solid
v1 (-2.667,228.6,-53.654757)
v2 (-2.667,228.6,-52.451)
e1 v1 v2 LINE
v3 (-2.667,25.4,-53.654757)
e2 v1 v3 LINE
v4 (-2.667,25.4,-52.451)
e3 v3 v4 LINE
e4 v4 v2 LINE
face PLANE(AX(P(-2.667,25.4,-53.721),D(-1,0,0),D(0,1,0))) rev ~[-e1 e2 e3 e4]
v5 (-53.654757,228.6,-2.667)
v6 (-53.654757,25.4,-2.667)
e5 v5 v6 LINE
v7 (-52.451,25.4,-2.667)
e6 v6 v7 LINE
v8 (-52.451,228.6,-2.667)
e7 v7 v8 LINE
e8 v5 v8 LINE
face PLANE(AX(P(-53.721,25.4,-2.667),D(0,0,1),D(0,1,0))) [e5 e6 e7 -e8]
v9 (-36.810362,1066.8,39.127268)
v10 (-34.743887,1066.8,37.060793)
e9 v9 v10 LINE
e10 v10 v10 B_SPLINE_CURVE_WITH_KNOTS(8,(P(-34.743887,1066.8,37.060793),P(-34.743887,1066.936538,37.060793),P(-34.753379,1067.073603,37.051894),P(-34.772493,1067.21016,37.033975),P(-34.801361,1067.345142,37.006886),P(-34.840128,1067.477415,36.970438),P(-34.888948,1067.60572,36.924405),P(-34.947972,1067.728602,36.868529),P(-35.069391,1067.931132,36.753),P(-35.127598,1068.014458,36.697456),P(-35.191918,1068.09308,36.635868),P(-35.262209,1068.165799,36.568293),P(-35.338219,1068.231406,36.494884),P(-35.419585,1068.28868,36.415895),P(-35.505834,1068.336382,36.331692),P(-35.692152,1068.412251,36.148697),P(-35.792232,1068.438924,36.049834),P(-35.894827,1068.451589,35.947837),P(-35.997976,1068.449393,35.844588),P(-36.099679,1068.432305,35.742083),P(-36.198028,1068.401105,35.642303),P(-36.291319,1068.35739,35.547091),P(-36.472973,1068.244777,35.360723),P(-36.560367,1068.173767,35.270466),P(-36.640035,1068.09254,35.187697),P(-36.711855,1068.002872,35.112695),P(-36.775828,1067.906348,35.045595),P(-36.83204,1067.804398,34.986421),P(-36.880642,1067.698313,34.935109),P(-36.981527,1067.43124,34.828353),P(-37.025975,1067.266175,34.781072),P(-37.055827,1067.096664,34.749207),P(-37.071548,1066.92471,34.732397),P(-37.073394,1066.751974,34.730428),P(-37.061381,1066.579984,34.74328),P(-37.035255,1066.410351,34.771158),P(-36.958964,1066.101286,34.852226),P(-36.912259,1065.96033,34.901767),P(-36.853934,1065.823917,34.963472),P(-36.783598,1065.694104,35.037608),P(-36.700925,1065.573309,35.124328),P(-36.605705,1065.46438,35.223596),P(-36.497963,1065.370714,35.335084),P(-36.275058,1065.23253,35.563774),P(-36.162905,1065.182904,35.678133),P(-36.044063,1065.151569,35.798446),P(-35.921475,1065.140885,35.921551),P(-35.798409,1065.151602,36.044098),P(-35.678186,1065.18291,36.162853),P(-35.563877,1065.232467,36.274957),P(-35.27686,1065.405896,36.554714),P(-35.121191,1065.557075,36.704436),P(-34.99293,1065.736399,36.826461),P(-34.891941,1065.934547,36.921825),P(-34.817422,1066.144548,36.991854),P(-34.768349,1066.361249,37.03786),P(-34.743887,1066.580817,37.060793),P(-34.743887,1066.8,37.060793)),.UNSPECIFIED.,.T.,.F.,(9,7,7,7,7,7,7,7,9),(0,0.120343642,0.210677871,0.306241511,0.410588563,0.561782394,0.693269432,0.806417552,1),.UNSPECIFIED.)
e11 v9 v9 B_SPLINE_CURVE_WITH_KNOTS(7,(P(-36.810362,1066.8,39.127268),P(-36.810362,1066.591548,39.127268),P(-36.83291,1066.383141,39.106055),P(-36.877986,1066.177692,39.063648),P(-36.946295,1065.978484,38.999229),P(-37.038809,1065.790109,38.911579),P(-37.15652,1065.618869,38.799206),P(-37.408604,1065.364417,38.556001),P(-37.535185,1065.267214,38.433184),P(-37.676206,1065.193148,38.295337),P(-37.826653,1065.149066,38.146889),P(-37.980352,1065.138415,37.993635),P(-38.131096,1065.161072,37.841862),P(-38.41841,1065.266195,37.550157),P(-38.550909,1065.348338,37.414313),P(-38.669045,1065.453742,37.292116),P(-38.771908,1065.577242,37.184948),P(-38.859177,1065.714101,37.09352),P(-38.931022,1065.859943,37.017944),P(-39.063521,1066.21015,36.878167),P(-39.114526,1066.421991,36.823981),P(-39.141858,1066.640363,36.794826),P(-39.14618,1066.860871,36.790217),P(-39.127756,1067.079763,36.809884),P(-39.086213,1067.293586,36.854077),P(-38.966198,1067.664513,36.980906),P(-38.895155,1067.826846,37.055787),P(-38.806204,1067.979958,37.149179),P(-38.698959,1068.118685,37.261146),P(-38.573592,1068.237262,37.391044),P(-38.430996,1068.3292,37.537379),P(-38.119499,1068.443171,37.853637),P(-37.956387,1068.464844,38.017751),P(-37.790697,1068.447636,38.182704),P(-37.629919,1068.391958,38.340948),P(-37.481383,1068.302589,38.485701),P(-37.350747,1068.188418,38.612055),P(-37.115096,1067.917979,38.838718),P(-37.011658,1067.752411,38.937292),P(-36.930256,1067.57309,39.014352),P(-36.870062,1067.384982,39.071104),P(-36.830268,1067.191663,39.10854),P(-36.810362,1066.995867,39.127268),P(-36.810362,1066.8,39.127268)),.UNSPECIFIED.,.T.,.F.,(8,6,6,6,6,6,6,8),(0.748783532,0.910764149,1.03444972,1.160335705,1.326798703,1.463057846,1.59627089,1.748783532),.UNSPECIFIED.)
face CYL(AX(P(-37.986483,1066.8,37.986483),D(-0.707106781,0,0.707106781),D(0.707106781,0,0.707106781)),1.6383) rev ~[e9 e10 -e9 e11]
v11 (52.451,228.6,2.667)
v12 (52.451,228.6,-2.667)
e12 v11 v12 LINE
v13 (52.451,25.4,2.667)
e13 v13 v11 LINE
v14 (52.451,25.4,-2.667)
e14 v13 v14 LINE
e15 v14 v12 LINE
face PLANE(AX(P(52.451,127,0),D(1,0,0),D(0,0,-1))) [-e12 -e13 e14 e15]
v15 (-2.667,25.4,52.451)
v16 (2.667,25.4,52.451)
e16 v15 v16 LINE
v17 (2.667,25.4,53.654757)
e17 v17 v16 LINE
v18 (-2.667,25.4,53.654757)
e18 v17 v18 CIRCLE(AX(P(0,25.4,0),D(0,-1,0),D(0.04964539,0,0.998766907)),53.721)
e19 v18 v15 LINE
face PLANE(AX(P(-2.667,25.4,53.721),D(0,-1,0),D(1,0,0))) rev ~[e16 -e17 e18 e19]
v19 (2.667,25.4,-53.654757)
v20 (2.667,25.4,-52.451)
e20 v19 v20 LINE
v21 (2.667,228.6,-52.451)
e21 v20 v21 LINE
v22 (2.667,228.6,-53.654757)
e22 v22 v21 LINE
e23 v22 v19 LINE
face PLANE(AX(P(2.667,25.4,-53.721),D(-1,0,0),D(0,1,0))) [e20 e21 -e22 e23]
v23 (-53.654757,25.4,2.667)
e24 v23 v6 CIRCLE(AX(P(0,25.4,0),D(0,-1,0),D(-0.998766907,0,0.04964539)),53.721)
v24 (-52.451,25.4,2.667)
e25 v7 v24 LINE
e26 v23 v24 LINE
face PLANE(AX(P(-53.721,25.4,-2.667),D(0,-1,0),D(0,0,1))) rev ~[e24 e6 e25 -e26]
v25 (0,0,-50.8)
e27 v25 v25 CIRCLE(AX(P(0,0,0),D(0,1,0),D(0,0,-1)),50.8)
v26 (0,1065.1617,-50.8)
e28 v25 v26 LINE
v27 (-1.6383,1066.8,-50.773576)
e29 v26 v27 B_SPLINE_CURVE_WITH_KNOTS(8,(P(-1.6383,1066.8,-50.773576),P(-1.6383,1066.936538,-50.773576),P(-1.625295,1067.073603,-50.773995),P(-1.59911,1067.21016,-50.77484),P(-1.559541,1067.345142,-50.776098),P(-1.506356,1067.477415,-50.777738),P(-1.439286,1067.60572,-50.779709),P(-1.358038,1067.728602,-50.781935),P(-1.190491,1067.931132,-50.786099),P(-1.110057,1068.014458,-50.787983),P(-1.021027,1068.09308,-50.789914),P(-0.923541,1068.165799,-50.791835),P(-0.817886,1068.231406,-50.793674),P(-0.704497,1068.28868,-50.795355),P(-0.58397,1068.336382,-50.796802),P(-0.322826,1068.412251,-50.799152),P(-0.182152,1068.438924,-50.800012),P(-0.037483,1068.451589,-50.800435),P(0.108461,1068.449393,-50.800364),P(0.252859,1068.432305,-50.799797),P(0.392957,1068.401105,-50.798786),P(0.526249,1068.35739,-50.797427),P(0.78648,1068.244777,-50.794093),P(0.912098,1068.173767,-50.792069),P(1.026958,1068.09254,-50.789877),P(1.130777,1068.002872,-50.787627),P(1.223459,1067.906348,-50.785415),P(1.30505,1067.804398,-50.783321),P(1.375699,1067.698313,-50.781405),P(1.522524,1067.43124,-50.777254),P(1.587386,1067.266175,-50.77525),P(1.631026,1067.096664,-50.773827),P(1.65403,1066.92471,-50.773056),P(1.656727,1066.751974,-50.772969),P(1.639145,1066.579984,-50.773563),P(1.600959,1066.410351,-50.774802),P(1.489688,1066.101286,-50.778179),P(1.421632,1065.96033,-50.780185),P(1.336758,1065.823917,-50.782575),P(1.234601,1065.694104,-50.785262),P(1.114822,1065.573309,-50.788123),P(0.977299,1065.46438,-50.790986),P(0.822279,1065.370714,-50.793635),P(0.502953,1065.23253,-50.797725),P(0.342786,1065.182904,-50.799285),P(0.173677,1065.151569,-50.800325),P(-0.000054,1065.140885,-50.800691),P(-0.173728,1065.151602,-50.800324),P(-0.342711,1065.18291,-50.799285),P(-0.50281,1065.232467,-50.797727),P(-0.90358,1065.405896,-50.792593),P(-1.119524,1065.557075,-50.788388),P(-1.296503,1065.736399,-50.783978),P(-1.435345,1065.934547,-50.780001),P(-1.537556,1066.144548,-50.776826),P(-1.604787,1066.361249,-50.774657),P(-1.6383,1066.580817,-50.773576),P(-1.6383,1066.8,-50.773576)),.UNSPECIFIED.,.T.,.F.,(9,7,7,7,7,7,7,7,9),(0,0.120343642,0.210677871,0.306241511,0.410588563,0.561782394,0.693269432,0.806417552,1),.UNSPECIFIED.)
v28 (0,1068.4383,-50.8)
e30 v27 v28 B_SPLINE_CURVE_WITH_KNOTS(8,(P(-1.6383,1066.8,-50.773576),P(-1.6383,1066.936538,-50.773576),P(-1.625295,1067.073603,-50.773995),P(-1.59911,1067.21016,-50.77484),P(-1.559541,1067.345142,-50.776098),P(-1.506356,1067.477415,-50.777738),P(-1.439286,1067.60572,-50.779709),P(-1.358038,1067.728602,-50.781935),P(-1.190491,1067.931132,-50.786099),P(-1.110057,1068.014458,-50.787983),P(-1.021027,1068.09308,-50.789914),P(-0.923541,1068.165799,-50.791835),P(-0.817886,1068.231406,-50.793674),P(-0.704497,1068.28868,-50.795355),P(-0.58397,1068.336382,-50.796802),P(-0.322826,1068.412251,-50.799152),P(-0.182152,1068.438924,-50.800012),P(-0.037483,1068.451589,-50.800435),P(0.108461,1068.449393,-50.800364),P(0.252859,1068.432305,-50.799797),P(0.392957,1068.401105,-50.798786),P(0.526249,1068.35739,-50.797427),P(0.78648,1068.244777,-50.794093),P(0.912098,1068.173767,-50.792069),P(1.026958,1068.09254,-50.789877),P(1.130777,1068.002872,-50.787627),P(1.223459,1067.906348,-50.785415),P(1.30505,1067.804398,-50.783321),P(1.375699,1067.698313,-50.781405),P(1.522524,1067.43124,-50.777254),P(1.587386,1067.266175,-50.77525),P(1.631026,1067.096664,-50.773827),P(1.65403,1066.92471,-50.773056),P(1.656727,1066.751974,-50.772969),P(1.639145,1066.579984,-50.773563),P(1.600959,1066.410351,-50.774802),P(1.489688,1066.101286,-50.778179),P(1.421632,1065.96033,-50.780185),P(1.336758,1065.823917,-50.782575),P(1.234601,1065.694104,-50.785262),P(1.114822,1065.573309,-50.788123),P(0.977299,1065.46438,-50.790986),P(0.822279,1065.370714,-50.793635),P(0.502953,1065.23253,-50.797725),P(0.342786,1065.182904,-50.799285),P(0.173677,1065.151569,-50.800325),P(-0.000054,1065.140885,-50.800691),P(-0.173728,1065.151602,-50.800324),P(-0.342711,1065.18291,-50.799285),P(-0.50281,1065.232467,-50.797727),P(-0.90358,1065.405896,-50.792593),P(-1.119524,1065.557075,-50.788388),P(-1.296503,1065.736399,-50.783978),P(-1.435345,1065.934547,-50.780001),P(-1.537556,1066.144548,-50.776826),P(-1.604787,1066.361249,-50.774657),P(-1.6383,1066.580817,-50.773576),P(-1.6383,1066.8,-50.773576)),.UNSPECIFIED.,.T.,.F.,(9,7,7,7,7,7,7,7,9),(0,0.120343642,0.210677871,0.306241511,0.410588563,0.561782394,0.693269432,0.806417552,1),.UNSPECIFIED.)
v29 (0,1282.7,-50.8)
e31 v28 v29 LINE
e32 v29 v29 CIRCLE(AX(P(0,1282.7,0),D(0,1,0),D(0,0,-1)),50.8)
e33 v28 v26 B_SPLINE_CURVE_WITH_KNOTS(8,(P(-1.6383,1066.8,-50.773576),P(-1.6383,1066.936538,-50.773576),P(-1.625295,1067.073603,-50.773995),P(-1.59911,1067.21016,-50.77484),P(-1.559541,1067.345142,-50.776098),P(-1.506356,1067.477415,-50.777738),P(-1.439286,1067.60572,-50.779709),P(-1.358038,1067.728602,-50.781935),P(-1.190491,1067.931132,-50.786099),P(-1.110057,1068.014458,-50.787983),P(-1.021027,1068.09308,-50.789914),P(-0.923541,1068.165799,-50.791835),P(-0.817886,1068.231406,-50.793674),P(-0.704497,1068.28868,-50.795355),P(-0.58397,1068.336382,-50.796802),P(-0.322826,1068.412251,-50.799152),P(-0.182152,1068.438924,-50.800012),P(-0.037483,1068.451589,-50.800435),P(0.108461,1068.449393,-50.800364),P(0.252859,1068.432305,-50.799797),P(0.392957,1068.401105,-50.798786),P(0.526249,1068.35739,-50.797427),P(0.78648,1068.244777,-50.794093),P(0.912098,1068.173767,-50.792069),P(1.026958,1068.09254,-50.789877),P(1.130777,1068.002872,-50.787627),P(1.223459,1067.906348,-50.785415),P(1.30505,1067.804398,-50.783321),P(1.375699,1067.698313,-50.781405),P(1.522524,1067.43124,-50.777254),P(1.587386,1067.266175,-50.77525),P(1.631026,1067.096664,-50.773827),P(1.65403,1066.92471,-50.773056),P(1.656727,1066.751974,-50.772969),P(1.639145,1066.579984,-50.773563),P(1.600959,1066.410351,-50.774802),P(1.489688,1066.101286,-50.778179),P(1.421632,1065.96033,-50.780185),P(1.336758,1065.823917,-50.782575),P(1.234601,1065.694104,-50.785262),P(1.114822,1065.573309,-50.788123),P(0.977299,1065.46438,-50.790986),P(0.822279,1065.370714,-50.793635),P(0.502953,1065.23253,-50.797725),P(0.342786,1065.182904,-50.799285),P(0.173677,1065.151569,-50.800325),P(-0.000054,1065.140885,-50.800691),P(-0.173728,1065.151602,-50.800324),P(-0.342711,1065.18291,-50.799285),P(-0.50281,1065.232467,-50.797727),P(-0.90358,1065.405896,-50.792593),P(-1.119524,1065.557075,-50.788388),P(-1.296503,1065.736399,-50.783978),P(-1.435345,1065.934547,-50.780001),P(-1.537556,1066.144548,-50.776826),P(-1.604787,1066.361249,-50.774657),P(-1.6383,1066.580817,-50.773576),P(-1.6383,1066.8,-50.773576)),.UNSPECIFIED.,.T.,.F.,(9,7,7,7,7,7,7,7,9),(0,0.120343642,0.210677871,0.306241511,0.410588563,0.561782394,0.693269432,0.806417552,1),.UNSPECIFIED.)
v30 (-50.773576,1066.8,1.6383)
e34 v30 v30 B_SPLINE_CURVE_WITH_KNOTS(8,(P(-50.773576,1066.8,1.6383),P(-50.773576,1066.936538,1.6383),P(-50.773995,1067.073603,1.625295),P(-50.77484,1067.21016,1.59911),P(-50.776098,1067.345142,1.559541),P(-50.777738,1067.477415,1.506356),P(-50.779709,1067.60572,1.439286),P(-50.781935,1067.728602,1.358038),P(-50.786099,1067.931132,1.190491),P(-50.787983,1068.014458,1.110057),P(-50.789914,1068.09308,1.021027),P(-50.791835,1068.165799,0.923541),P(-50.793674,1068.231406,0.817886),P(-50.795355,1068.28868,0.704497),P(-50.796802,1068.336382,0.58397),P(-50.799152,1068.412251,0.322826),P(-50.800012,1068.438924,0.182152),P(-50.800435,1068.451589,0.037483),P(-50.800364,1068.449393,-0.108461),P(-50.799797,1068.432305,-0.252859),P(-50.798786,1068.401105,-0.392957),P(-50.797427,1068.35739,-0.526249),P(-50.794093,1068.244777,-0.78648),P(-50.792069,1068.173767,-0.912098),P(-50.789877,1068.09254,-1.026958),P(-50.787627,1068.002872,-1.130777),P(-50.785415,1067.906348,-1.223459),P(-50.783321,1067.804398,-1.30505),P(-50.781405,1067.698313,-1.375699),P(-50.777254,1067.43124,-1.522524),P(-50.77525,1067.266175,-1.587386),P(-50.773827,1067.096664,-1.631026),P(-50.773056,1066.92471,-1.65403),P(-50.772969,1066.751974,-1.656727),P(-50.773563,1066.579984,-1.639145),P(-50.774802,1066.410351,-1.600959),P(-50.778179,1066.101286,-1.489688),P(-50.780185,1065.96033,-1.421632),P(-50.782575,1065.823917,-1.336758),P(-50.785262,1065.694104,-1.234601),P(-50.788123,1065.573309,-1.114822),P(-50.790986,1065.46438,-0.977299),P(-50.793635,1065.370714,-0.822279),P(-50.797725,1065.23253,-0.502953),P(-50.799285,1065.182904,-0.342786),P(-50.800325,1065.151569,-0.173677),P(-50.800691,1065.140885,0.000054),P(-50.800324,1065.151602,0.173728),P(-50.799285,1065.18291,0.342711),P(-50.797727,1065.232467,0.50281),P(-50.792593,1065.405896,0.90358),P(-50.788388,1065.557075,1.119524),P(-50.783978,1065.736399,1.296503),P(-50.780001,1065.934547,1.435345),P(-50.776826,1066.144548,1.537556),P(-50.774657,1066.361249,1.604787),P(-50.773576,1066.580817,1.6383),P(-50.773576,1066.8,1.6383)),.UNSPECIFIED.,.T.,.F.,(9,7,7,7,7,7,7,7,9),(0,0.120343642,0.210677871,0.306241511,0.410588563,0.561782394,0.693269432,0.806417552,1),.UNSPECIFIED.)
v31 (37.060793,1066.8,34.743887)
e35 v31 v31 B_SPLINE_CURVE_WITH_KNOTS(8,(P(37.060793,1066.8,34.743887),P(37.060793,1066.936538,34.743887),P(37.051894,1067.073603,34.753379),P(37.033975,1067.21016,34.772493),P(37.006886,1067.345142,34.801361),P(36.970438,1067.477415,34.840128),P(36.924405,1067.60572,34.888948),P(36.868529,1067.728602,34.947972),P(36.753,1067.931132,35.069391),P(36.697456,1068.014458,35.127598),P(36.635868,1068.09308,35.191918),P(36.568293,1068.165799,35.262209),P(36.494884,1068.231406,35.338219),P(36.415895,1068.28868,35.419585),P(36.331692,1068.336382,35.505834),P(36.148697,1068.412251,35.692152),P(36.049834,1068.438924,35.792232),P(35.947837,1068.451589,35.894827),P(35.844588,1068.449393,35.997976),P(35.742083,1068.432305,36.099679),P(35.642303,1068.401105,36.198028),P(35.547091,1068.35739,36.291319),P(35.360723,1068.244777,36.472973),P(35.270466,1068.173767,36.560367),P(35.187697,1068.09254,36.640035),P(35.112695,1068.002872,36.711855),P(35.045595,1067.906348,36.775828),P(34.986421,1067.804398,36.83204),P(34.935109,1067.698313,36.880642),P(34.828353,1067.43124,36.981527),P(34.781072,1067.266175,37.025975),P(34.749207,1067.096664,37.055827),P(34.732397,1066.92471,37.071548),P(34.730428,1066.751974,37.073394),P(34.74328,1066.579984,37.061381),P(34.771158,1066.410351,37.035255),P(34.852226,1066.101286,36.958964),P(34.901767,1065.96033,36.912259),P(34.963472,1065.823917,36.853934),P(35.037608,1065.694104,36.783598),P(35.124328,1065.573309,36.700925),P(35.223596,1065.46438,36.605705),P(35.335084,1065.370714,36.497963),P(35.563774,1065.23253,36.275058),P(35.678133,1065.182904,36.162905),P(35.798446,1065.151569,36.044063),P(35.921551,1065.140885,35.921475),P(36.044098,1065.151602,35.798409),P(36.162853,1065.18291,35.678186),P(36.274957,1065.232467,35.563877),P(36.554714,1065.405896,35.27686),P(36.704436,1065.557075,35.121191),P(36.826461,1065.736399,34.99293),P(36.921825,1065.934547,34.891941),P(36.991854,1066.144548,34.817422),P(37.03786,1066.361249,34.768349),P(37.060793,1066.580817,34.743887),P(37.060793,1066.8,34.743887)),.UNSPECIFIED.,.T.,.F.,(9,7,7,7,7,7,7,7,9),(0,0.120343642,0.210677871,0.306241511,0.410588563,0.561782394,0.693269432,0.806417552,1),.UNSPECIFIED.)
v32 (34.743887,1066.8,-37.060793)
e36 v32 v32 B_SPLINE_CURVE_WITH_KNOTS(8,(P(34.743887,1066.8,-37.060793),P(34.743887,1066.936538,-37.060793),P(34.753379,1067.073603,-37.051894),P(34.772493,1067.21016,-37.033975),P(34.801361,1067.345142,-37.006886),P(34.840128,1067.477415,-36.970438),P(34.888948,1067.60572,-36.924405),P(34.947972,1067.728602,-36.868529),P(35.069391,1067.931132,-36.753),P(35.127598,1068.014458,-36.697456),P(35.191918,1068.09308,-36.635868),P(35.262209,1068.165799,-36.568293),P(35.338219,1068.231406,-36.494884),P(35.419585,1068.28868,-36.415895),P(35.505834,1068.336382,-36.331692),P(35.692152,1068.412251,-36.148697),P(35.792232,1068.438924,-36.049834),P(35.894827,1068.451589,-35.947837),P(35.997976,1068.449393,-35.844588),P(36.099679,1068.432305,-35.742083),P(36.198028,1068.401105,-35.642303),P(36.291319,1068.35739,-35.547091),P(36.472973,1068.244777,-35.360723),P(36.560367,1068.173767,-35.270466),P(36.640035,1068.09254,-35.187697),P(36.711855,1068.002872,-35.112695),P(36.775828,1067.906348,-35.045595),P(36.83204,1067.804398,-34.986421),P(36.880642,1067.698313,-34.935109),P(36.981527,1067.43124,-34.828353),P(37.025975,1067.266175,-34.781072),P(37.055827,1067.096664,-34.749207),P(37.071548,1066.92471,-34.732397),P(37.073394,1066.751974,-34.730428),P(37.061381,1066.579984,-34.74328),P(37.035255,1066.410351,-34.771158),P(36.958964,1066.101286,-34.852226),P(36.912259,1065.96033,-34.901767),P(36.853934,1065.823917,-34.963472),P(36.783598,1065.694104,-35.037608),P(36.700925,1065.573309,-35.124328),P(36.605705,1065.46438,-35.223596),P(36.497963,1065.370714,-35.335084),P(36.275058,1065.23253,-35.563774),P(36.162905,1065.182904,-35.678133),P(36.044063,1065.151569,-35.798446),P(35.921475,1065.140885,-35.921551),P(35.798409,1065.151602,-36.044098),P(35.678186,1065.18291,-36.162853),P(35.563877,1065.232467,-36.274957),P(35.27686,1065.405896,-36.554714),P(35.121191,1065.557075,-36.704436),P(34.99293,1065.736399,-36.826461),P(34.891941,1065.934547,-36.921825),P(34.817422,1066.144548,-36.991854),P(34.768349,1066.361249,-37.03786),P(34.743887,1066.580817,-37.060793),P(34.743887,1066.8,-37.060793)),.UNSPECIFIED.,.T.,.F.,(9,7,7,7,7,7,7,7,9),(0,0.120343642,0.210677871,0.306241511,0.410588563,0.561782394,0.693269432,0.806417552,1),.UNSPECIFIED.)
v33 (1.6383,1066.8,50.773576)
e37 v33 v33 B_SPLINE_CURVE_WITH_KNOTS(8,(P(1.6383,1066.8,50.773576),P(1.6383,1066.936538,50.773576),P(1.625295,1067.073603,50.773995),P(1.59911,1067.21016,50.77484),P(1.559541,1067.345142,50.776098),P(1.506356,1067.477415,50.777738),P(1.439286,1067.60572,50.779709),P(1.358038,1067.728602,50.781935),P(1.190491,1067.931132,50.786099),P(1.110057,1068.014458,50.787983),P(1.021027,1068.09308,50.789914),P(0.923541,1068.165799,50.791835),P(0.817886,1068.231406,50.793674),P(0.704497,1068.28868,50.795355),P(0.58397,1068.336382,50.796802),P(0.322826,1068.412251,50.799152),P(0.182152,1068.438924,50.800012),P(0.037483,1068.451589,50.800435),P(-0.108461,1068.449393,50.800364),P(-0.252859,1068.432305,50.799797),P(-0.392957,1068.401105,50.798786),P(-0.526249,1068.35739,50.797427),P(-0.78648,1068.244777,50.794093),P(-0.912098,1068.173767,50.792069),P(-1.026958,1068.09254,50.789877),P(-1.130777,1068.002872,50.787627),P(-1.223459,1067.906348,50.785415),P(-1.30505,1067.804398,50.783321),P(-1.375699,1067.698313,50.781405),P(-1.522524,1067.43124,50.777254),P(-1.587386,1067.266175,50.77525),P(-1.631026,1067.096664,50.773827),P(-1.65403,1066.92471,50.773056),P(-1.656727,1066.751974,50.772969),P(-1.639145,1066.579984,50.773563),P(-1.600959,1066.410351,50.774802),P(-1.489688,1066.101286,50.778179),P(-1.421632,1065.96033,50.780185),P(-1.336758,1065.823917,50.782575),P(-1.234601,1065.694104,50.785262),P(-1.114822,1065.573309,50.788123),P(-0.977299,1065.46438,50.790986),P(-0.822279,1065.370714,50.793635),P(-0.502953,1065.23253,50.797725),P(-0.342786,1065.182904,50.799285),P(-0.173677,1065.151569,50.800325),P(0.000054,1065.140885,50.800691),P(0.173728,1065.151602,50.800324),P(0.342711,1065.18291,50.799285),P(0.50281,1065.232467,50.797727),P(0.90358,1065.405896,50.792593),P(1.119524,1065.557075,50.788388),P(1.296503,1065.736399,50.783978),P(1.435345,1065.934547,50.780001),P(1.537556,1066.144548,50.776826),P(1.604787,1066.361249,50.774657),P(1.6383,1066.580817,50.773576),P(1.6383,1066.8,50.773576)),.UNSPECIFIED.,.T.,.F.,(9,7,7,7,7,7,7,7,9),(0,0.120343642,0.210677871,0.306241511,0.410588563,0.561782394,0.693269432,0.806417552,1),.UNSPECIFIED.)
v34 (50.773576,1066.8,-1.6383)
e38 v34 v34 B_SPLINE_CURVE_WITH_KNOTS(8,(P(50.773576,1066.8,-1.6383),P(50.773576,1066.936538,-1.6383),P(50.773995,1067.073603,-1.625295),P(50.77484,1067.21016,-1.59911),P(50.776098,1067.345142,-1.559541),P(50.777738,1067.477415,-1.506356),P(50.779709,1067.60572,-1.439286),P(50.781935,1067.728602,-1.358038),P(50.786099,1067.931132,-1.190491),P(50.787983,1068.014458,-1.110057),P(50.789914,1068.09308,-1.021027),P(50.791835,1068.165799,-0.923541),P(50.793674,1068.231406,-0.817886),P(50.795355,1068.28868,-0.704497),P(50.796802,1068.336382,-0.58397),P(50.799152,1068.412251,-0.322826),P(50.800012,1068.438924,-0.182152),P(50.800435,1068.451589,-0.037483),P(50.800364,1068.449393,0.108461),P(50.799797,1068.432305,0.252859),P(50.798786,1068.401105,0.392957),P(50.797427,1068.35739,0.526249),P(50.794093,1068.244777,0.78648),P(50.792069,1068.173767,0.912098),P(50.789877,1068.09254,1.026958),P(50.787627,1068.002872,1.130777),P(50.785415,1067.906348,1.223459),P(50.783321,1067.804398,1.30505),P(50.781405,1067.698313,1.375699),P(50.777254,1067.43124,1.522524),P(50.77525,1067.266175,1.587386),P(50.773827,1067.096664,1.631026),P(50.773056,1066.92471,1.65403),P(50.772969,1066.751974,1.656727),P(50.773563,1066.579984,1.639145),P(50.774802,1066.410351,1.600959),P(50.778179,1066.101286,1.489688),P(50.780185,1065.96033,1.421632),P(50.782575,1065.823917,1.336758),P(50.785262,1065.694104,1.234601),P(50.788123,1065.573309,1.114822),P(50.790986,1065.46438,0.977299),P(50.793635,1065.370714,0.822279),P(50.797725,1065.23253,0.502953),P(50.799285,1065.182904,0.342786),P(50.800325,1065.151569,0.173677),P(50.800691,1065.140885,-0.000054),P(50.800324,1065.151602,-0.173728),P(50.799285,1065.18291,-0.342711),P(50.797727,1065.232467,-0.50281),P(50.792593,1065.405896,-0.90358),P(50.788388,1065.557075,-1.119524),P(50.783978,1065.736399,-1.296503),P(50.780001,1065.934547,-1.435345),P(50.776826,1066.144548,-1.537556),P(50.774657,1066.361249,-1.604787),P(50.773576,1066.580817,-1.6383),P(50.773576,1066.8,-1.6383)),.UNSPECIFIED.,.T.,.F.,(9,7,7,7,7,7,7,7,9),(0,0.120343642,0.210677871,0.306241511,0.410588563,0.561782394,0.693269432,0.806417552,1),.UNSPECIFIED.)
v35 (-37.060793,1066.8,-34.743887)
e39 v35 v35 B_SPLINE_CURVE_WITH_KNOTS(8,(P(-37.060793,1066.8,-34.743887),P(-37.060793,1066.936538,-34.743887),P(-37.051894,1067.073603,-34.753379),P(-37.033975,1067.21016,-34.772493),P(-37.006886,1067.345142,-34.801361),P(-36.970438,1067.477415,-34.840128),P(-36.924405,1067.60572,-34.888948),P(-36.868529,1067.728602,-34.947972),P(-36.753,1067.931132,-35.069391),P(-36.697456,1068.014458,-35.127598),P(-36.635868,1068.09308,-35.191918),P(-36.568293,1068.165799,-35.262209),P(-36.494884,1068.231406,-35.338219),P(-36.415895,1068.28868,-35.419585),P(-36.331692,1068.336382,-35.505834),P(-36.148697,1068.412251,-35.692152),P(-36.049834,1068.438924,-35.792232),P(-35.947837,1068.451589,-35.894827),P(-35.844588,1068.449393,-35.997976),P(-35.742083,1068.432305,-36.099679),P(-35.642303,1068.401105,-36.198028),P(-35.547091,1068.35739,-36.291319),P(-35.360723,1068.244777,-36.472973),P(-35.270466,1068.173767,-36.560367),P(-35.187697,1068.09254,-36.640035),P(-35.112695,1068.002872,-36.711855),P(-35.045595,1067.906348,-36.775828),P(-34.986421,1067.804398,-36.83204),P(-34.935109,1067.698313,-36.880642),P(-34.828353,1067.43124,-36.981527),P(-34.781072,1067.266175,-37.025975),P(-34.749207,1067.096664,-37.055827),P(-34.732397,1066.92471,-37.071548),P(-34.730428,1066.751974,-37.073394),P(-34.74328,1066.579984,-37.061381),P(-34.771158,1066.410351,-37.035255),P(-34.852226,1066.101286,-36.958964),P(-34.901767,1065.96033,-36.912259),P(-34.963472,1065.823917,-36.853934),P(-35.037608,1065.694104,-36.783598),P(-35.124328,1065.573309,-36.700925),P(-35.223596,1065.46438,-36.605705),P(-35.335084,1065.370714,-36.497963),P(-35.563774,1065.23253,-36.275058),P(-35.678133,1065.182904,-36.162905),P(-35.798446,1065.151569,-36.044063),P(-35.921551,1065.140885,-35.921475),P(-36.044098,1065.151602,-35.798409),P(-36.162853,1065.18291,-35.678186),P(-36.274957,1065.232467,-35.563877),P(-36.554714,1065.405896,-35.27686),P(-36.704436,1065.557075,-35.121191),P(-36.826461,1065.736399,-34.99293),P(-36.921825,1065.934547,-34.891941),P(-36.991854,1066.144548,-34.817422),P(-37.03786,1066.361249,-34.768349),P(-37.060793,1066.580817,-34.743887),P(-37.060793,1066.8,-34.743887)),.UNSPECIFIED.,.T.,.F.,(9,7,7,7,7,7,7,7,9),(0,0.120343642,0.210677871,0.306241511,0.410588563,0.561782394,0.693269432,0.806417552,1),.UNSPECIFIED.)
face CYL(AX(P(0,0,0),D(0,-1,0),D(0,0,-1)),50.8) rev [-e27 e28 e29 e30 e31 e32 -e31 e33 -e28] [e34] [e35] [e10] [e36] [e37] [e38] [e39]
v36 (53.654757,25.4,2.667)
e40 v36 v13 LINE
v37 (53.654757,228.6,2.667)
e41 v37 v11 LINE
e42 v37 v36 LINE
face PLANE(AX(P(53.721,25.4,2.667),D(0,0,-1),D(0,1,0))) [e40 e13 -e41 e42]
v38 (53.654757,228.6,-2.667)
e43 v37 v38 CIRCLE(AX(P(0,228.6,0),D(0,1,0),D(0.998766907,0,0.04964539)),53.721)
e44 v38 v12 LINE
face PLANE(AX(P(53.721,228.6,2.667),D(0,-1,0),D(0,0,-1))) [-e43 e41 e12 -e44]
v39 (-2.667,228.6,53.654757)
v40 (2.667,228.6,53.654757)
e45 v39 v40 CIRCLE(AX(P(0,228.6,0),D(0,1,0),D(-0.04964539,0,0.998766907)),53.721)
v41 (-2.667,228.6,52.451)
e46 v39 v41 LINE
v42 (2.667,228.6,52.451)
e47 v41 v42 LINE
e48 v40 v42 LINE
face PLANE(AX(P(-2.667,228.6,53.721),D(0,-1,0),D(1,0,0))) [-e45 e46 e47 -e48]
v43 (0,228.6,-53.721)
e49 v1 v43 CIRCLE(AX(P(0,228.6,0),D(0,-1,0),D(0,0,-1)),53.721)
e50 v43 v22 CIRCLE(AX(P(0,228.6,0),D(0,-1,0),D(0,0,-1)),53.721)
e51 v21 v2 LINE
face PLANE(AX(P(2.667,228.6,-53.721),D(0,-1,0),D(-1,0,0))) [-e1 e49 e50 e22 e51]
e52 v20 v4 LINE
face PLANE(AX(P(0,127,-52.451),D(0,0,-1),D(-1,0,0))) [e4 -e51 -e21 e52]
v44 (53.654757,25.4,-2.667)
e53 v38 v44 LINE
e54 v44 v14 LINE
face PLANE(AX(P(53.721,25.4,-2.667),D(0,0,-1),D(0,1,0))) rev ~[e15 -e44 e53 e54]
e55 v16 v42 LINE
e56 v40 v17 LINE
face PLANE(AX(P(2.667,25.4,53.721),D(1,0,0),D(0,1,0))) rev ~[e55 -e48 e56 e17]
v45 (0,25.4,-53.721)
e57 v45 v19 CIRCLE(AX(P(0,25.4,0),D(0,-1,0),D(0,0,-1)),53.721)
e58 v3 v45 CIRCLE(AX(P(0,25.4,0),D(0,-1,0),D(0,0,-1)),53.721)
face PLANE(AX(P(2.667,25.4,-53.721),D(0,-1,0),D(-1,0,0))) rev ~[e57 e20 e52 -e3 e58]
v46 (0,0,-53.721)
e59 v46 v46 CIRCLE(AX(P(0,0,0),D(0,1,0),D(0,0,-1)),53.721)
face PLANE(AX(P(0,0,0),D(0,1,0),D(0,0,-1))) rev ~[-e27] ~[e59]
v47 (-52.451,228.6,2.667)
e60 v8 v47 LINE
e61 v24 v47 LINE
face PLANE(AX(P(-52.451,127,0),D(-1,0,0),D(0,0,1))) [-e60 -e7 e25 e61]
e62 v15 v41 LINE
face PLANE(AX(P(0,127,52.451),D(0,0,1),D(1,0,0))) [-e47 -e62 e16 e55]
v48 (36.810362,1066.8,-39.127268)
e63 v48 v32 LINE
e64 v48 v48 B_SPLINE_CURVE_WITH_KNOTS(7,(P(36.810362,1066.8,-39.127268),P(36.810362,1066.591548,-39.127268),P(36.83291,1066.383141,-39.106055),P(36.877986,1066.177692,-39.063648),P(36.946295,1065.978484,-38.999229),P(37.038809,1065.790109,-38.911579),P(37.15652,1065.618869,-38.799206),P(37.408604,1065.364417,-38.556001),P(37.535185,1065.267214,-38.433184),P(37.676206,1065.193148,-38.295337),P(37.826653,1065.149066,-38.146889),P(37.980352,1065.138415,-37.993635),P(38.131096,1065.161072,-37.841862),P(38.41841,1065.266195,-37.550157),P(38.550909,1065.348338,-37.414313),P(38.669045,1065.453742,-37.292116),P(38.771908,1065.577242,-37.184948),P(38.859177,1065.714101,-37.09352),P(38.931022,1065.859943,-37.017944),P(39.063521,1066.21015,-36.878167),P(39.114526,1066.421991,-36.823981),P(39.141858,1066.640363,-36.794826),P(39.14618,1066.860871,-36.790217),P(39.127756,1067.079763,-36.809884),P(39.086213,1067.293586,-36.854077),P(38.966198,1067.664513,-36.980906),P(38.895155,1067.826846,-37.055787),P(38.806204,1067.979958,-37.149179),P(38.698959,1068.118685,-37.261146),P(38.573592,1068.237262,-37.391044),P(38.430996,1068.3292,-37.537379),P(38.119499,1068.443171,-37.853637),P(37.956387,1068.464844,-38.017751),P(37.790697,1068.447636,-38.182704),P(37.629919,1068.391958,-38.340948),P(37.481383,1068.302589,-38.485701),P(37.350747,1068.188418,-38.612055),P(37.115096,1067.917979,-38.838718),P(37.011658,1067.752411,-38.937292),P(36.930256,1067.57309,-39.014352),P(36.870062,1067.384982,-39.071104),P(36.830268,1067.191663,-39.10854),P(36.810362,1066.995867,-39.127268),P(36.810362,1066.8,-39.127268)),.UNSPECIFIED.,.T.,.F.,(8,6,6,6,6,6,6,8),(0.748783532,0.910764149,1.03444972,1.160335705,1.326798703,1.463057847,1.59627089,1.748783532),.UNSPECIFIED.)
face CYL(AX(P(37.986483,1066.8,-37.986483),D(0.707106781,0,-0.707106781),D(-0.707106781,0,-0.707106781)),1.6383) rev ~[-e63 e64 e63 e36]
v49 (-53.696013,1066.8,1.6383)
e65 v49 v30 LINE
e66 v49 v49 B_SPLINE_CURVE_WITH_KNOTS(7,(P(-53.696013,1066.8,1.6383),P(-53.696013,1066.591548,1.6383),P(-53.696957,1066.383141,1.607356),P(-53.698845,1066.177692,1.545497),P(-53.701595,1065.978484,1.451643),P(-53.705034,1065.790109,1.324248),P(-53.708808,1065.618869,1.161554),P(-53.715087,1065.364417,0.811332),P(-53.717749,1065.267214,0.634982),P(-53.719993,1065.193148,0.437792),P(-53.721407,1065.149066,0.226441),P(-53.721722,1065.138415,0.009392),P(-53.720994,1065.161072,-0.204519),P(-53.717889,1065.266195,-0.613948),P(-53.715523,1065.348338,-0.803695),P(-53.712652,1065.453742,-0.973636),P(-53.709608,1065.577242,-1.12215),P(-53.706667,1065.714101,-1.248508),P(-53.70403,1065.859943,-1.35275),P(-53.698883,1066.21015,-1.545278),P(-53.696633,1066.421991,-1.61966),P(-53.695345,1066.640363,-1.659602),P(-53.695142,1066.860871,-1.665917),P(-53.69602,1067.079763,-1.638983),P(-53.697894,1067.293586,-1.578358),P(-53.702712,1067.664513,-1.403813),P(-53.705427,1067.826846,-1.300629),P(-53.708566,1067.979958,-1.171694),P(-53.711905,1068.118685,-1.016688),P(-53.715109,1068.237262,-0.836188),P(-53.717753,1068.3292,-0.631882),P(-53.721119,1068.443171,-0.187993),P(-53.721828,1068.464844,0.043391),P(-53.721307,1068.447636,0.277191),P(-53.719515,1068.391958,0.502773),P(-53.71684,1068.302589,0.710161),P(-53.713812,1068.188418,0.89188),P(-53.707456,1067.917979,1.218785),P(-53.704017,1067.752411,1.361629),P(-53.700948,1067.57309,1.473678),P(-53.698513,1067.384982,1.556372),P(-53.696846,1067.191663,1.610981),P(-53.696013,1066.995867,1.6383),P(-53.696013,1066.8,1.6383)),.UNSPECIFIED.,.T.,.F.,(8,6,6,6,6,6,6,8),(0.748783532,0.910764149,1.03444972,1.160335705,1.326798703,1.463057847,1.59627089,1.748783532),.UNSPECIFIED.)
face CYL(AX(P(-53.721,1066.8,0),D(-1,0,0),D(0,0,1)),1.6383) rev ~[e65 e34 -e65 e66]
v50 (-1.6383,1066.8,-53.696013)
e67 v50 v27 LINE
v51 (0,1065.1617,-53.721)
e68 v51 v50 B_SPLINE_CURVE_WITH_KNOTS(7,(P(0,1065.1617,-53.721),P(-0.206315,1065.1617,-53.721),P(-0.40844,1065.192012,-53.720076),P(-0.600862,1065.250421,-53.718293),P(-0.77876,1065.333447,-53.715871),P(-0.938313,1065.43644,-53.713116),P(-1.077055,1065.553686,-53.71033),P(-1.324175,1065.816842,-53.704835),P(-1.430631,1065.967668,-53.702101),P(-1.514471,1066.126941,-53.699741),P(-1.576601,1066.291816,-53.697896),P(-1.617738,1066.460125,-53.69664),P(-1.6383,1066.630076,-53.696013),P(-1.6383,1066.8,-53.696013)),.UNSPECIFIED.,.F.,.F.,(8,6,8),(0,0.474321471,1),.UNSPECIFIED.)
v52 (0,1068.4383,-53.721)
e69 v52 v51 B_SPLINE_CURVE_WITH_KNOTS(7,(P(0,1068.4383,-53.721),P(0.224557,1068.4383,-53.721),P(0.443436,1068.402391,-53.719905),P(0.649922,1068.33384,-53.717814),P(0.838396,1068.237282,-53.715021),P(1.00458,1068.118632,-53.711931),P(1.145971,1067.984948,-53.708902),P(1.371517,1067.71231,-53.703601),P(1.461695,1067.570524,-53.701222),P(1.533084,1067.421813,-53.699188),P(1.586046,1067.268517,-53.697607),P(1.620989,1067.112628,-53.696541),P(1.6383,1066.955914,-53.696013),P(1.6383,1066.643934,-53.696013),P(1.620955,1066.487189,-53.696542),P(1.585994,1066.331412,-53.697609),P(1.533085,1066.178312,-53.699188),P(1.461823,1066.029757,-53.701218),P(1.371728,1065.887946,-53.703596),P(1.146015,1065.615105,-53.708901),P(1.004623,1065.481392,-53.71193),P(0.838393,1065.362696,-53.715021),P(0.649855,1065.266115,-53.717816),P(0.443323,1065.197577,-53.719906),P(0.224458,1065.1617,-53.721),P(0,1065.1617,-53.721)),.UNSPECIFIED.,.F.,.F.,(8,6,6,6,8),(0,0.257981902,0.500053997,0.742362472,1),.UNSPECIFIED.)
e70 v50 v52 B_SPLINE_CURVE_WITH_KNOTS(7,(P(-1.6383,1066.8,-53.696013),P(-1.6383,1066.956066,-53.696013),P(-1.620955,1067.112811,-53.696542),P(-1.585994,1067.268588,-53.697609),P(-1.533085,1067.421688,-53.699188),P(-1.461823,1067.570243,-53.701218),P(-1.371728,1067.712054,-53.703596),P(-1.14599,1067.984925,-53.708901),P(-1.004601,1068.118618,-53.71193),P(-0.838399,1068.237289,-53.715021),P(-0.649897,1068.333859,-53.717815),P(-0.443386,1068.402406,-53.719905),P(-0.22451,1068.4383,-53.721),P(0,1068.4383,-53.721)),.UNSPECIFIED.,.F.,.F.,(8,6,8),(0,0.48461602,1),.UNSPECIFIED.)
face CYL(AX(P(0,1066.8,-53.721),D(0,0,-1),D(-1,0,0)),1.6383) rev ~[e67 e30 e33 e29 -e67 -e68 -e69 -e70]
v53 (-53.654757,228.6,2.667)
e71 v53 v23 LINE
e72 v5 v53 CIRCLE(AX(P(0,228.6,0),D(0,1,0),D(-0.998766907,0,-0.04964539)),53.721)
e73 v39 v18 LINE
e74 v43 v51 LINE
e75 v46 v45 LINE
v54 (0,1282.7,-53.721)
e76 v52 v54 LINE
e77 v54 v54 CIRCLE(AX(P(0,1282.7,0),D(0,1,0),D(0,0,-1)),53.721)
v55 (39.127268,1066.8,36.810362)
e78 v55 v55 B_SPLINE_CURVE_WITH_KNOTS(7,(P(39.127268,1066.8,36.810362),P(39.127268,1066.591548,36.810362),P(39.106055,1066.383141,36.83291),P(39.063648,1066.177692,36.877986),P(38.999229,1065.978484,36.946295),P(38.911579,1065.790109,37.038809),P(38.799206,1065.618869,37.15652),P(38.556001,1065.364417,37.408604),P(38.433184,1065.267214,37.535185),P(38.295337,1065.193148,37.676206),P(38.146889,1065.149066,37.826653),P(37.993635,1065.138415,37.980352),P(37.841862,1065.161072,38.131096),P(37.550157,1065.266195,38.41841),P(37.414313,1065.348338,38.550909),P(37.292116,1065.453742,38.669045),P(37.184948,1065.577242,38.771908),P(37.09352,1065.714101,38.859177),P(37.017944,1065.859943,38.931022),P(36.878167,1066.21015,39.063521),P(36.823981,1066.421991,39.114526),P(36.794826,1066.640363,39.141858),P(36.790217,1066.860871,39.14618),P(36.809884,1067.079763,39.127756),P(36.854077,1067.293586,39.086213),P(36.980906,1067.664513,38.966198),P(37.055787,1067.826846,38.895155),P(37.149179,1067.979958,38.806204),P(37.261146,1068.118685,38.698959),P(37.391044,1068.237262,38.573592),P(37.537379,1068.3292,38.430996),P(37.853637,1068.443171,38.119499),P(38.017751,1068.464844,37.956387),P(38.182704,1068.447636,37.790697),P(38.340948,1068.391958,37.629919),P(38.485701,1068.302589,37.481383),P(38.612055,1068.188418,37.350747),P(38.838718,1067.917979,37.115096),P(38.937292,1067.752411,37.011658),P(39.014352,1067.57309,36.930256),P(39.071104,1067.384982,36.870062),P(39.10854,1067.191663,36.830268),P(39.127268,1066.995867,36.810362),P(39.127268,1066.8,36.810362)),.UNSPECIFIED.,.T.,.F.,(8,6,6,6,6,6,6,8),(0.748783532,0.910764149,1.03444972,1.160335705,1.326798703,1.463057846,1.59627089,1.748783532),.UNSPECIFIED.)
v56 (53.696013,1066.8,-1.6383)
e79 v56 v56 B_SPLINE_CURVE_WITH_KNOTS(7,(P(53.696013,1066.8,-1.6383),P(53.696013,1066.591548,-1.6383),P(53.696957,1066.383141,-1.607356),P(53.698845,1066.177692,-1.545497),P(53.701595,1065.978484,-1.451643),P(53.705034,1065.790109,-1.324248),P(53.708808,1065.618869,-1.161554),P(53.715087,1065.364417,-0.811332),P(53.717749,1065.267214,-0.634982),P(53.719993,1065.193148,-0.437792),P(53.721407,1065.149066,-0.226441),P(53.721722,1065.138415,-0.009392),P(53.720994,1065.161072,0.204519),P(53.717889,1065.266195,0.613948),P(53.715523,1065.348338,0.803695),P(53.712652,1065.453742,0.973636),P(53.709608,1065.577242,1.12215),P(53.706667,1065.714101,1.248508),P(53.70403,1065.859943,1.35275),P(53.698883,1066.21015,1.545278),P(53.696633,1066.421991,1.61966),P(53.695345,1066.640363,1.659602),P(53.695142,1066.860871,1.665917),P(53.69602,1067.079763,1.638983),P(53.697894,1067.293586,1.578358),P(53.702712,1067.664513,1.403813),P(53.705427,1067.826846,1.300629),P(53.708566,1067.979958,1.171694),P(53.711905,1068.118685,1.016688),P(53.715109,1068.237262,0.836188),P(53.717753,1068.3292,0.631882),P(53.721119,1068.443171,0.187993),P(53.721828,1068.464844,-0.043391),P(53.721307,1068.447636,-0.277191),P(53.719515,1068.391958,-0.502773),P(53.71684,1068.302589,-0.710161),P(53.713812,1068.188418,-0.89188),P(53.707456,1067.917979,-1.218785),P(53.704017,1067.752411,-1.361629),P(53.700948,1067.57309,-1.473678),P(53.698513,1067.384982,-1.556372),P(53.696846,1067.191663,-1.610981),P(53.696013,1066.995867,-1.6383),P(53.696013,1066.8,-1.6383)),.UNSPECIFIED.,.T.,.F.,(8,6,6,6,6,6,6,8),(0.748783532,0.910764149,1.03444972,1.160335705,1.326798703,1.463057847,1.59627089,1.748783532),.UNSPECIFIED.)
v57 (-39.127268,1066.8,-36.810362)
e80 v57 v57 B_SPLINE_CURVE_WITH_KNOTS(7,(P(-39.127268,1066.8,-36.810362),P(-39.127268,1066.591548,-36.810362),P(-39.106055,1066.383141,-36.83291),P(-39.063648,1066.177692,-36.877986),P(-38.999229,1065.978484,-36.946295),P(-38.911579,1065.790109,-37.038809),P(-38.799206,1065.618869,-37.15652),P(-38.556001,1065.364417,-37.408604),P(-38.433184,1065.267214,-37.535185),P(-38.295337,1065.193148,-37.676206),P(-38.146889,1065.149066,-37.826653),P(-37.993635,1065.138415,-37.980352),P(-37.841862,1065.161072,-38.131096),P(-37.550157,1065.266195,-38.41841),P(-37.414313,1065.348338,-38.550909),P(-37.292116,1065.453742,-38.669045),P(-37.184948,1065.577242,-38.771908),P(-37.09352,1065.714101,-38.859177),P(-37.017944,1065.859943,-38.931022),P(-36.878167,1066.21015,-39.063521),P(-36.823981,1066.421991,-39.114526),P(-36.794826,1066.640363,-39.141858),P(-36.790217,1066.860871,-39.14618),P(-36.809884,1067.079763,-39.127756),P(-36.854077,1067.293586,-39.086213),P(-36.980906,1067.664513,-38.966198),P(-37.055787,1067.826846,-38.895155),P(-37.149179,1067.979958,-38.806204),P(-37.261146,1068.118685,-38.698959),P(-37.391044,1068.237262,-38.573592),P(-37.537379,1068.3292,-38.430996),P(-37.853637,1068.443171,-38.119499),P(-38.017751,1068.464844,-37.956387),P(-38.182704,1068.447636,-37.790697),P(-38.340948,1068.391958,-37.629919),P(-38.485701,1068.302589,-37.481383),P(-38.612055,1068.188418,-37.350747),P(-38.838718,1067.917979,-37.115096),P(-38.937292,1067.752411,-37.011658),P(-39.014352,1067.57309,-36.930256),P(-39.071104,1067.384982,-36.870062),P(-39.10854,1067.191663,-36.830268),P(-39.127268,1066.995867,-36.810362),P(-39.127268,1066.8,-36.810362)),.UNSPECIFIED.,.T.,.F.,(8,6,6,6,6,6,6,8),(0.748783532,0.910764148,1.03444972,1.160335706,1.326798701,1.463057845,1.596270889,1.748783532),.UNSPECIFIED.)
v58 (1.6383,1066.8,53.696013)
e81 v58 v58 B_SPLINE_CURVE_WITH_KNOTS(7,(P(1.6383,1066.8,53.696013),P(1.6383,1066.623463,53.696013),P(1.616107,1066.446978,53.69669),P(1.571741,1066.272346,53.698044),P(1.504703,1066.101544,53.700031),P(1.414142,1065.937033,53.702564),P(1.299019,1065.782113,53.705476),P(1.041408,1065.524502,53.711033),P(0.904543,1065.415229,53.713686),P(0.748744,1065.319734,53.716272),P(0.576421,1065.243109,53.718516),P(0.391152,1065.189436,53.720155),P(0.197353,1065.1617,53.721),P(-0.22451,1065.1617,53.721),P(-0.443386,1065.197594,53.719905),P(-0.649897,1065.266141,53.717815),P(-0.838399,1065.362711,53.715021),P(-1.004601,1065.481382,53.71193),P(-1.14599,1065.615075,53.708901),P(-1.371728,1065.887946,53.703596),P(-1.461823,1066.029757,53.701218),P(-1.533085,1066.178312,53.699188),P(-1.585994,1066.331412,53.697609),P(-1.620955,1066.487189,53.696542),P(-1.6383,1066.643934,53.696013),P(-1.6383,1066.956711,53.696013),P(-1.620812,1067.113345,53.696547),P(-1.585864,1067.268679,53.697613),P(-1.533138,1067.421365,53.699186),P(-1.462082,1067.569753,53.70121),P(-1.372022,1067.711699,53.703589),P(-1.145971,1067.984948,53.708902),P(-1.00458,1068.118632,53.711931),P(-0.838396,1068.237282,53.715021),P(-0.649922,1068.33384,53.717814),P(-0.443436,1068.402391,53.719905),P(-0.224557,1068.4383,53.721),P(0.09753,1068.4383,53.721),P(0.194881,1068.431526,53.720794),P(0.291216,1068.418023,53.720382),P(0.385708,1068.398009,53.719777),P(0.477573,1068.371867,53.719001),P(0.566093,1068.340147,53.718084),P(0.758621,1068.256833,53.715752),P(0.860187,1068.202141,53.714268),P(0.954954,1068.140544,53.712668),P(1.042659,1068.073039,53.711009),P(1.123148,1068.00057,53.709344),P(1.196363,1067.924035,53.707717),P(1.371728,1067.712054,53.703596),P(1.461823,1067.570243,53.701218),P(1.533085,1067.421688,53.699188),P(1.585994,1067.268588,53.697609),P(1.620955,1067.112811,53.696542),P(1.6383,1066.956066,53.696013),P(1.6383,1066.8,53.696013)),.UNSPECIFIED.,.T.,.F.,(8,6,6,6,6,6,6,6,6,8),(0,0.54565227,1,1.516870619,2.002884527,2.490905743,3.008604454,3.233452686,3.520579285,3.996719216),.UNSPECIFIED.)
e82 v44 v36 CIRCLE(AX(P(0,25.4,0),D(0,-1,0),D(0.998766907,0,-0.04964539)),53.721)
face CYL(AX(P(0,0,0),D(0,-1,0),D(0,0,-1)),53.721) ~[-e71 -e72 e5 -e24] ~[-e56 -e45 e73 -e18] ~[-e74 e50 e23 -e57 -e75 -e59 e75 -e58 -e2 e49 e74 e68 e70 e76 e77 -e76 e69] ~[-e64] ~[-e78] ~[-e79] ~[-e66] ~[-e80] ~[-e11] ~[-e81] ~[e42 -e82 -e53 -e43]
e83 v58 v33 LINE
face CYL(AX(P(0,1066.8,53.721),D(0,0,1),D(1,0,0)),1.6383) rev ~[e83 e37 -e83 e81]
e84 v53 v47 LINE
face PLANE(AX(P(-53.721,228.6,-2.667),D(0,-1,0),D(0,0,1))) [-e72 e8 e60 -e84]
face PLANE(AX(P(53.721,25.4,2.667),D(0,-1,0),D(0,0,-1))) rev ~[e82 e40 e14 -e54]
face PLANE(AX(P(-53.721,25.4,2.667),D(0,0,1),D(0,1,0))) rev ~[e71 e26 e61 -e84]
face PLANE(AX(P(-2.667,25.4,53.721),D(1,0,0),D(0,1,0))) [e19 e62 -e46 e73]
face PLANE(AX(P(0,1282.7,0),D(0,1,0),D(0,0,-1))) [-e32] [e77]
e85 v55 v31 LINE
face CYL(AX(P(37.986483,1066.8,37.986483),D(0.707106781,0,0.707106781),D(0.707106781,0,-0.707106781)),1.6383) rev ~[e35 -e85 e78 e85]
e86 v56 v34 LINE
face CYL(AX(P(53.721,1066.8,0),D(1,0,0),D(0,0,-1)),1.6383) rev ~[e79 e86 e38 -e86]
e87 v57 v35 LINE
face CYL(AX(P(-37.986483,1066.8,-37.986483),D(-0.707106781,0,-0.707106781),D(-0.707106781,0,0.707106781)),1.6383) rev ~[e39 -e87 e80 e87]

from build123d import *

# Parameters (mm, degrees)
SKETCH1_R                    = 53.721
SKETCH1_R_2                  = 50.8
TUBE_EXTRUSION_DEPTH         = 1282.7
ENGINE_BLOCK_HOLE_REACH      = 1290.312
ENGINE_BLOCK_HOLE_END_RADIUS = 50.8
SKETCH2_R                    = 1.6383
CIRPATTERN1_COUNT            = 8
SKETCH3_W                    = 5.334
SKETCH3_H                    = 203.2
FIN_SLOTS_DEPTH              = 1.27
CIRPATTERN2_COUNT            = 4


with BuildPart() as part:
    # Sketch1 → Tube Extrusion (new body)
    with BuildSketch(Plane(origin=(0, 0, 0), x_dir=(1, 0, 0), z_dir=(0, 1, 0))):
        with Locations(Location((0, 0, 0), (0, 0, 90))):
            Circle(SKETCH1_R)
        with Locations(Location((0, 0, 0), (0, 0, 90))):
            Circle(SKETCH1_R_2, mode=Mode.SUBTRACT)
    extrude(amount=TUBE_EXTRUSION_DEPTH)

    # Engine Block Hole: up to this cylinder (the profile starts outside it)
    engine_block_hole_end = Plane(origin=(0, 1066.8, 0), z_dir=(0, -1, 0)) * Cylinder(ENGINE_BLOCK_HOLE_END_RADIUS, 2683.224, mode=Mode.PRIVATE)
    # Sketch2 → Engine Block Hole (cut, up to the surface)
    with BuildSketch(Plane.XY.offset(53.721), mode=Mode.PRIVATE) as engine_block_hole_sk1:
        with Locations((0, 1066.8)):
            Circle(SKETCH2_R)
    engine_block_hole_tool1 = extrude(engine_block_hole_sk1.sketch, amount=-ENGINE_BLOCK_HOLE_REACH, mode=Mode.PRIVATE) - engine_block_hole_end
    engine_block_hole = engine_block_hole_tool1.solids().sort_by_distance((0, 1066.8, 53.721))[0]
    add(engine_block_hole, mode=Mode.SUBTRACT)

    # CirPattern1: Engine Block Hole ×8 about axis
    cirpattern1_axis = Axis((0, 1282.7, 0), (0, -1, 0))
    for i in range(1, CIRPATTERN1_COUNT):
        add(engine_block_hole.rotate(cirpattern1_axis, i * 360 / CIRPATTERN1_COUNT), mode=Mode.SUBTRACT)

    # Sketch3 → Fin Slots (cut)
    with BuildSketch(Plane.XY.offset(53.721)):
        with Locations((0, 127)):
            Rectangle(SKETCH3_W, SKETCH3_H)
    fin_slots = extrude(amount=-FIN_SLOTS_DEPTH, mode=Mode.SUBTRACT)

    # CirPattern2: Fin Slots ×4 about axis
    cirpattern2_axis = Axis((0, 0, 0), (0, 1, 0))
    for i in range(1, CIRPATTERN2_COUNT):
        add(fin_slots.rotate(cirpattern2_axis, i * 360 / CIRPATTERN2_COUNT), mode=Mode.SUBTRACT)


solid = part.part
